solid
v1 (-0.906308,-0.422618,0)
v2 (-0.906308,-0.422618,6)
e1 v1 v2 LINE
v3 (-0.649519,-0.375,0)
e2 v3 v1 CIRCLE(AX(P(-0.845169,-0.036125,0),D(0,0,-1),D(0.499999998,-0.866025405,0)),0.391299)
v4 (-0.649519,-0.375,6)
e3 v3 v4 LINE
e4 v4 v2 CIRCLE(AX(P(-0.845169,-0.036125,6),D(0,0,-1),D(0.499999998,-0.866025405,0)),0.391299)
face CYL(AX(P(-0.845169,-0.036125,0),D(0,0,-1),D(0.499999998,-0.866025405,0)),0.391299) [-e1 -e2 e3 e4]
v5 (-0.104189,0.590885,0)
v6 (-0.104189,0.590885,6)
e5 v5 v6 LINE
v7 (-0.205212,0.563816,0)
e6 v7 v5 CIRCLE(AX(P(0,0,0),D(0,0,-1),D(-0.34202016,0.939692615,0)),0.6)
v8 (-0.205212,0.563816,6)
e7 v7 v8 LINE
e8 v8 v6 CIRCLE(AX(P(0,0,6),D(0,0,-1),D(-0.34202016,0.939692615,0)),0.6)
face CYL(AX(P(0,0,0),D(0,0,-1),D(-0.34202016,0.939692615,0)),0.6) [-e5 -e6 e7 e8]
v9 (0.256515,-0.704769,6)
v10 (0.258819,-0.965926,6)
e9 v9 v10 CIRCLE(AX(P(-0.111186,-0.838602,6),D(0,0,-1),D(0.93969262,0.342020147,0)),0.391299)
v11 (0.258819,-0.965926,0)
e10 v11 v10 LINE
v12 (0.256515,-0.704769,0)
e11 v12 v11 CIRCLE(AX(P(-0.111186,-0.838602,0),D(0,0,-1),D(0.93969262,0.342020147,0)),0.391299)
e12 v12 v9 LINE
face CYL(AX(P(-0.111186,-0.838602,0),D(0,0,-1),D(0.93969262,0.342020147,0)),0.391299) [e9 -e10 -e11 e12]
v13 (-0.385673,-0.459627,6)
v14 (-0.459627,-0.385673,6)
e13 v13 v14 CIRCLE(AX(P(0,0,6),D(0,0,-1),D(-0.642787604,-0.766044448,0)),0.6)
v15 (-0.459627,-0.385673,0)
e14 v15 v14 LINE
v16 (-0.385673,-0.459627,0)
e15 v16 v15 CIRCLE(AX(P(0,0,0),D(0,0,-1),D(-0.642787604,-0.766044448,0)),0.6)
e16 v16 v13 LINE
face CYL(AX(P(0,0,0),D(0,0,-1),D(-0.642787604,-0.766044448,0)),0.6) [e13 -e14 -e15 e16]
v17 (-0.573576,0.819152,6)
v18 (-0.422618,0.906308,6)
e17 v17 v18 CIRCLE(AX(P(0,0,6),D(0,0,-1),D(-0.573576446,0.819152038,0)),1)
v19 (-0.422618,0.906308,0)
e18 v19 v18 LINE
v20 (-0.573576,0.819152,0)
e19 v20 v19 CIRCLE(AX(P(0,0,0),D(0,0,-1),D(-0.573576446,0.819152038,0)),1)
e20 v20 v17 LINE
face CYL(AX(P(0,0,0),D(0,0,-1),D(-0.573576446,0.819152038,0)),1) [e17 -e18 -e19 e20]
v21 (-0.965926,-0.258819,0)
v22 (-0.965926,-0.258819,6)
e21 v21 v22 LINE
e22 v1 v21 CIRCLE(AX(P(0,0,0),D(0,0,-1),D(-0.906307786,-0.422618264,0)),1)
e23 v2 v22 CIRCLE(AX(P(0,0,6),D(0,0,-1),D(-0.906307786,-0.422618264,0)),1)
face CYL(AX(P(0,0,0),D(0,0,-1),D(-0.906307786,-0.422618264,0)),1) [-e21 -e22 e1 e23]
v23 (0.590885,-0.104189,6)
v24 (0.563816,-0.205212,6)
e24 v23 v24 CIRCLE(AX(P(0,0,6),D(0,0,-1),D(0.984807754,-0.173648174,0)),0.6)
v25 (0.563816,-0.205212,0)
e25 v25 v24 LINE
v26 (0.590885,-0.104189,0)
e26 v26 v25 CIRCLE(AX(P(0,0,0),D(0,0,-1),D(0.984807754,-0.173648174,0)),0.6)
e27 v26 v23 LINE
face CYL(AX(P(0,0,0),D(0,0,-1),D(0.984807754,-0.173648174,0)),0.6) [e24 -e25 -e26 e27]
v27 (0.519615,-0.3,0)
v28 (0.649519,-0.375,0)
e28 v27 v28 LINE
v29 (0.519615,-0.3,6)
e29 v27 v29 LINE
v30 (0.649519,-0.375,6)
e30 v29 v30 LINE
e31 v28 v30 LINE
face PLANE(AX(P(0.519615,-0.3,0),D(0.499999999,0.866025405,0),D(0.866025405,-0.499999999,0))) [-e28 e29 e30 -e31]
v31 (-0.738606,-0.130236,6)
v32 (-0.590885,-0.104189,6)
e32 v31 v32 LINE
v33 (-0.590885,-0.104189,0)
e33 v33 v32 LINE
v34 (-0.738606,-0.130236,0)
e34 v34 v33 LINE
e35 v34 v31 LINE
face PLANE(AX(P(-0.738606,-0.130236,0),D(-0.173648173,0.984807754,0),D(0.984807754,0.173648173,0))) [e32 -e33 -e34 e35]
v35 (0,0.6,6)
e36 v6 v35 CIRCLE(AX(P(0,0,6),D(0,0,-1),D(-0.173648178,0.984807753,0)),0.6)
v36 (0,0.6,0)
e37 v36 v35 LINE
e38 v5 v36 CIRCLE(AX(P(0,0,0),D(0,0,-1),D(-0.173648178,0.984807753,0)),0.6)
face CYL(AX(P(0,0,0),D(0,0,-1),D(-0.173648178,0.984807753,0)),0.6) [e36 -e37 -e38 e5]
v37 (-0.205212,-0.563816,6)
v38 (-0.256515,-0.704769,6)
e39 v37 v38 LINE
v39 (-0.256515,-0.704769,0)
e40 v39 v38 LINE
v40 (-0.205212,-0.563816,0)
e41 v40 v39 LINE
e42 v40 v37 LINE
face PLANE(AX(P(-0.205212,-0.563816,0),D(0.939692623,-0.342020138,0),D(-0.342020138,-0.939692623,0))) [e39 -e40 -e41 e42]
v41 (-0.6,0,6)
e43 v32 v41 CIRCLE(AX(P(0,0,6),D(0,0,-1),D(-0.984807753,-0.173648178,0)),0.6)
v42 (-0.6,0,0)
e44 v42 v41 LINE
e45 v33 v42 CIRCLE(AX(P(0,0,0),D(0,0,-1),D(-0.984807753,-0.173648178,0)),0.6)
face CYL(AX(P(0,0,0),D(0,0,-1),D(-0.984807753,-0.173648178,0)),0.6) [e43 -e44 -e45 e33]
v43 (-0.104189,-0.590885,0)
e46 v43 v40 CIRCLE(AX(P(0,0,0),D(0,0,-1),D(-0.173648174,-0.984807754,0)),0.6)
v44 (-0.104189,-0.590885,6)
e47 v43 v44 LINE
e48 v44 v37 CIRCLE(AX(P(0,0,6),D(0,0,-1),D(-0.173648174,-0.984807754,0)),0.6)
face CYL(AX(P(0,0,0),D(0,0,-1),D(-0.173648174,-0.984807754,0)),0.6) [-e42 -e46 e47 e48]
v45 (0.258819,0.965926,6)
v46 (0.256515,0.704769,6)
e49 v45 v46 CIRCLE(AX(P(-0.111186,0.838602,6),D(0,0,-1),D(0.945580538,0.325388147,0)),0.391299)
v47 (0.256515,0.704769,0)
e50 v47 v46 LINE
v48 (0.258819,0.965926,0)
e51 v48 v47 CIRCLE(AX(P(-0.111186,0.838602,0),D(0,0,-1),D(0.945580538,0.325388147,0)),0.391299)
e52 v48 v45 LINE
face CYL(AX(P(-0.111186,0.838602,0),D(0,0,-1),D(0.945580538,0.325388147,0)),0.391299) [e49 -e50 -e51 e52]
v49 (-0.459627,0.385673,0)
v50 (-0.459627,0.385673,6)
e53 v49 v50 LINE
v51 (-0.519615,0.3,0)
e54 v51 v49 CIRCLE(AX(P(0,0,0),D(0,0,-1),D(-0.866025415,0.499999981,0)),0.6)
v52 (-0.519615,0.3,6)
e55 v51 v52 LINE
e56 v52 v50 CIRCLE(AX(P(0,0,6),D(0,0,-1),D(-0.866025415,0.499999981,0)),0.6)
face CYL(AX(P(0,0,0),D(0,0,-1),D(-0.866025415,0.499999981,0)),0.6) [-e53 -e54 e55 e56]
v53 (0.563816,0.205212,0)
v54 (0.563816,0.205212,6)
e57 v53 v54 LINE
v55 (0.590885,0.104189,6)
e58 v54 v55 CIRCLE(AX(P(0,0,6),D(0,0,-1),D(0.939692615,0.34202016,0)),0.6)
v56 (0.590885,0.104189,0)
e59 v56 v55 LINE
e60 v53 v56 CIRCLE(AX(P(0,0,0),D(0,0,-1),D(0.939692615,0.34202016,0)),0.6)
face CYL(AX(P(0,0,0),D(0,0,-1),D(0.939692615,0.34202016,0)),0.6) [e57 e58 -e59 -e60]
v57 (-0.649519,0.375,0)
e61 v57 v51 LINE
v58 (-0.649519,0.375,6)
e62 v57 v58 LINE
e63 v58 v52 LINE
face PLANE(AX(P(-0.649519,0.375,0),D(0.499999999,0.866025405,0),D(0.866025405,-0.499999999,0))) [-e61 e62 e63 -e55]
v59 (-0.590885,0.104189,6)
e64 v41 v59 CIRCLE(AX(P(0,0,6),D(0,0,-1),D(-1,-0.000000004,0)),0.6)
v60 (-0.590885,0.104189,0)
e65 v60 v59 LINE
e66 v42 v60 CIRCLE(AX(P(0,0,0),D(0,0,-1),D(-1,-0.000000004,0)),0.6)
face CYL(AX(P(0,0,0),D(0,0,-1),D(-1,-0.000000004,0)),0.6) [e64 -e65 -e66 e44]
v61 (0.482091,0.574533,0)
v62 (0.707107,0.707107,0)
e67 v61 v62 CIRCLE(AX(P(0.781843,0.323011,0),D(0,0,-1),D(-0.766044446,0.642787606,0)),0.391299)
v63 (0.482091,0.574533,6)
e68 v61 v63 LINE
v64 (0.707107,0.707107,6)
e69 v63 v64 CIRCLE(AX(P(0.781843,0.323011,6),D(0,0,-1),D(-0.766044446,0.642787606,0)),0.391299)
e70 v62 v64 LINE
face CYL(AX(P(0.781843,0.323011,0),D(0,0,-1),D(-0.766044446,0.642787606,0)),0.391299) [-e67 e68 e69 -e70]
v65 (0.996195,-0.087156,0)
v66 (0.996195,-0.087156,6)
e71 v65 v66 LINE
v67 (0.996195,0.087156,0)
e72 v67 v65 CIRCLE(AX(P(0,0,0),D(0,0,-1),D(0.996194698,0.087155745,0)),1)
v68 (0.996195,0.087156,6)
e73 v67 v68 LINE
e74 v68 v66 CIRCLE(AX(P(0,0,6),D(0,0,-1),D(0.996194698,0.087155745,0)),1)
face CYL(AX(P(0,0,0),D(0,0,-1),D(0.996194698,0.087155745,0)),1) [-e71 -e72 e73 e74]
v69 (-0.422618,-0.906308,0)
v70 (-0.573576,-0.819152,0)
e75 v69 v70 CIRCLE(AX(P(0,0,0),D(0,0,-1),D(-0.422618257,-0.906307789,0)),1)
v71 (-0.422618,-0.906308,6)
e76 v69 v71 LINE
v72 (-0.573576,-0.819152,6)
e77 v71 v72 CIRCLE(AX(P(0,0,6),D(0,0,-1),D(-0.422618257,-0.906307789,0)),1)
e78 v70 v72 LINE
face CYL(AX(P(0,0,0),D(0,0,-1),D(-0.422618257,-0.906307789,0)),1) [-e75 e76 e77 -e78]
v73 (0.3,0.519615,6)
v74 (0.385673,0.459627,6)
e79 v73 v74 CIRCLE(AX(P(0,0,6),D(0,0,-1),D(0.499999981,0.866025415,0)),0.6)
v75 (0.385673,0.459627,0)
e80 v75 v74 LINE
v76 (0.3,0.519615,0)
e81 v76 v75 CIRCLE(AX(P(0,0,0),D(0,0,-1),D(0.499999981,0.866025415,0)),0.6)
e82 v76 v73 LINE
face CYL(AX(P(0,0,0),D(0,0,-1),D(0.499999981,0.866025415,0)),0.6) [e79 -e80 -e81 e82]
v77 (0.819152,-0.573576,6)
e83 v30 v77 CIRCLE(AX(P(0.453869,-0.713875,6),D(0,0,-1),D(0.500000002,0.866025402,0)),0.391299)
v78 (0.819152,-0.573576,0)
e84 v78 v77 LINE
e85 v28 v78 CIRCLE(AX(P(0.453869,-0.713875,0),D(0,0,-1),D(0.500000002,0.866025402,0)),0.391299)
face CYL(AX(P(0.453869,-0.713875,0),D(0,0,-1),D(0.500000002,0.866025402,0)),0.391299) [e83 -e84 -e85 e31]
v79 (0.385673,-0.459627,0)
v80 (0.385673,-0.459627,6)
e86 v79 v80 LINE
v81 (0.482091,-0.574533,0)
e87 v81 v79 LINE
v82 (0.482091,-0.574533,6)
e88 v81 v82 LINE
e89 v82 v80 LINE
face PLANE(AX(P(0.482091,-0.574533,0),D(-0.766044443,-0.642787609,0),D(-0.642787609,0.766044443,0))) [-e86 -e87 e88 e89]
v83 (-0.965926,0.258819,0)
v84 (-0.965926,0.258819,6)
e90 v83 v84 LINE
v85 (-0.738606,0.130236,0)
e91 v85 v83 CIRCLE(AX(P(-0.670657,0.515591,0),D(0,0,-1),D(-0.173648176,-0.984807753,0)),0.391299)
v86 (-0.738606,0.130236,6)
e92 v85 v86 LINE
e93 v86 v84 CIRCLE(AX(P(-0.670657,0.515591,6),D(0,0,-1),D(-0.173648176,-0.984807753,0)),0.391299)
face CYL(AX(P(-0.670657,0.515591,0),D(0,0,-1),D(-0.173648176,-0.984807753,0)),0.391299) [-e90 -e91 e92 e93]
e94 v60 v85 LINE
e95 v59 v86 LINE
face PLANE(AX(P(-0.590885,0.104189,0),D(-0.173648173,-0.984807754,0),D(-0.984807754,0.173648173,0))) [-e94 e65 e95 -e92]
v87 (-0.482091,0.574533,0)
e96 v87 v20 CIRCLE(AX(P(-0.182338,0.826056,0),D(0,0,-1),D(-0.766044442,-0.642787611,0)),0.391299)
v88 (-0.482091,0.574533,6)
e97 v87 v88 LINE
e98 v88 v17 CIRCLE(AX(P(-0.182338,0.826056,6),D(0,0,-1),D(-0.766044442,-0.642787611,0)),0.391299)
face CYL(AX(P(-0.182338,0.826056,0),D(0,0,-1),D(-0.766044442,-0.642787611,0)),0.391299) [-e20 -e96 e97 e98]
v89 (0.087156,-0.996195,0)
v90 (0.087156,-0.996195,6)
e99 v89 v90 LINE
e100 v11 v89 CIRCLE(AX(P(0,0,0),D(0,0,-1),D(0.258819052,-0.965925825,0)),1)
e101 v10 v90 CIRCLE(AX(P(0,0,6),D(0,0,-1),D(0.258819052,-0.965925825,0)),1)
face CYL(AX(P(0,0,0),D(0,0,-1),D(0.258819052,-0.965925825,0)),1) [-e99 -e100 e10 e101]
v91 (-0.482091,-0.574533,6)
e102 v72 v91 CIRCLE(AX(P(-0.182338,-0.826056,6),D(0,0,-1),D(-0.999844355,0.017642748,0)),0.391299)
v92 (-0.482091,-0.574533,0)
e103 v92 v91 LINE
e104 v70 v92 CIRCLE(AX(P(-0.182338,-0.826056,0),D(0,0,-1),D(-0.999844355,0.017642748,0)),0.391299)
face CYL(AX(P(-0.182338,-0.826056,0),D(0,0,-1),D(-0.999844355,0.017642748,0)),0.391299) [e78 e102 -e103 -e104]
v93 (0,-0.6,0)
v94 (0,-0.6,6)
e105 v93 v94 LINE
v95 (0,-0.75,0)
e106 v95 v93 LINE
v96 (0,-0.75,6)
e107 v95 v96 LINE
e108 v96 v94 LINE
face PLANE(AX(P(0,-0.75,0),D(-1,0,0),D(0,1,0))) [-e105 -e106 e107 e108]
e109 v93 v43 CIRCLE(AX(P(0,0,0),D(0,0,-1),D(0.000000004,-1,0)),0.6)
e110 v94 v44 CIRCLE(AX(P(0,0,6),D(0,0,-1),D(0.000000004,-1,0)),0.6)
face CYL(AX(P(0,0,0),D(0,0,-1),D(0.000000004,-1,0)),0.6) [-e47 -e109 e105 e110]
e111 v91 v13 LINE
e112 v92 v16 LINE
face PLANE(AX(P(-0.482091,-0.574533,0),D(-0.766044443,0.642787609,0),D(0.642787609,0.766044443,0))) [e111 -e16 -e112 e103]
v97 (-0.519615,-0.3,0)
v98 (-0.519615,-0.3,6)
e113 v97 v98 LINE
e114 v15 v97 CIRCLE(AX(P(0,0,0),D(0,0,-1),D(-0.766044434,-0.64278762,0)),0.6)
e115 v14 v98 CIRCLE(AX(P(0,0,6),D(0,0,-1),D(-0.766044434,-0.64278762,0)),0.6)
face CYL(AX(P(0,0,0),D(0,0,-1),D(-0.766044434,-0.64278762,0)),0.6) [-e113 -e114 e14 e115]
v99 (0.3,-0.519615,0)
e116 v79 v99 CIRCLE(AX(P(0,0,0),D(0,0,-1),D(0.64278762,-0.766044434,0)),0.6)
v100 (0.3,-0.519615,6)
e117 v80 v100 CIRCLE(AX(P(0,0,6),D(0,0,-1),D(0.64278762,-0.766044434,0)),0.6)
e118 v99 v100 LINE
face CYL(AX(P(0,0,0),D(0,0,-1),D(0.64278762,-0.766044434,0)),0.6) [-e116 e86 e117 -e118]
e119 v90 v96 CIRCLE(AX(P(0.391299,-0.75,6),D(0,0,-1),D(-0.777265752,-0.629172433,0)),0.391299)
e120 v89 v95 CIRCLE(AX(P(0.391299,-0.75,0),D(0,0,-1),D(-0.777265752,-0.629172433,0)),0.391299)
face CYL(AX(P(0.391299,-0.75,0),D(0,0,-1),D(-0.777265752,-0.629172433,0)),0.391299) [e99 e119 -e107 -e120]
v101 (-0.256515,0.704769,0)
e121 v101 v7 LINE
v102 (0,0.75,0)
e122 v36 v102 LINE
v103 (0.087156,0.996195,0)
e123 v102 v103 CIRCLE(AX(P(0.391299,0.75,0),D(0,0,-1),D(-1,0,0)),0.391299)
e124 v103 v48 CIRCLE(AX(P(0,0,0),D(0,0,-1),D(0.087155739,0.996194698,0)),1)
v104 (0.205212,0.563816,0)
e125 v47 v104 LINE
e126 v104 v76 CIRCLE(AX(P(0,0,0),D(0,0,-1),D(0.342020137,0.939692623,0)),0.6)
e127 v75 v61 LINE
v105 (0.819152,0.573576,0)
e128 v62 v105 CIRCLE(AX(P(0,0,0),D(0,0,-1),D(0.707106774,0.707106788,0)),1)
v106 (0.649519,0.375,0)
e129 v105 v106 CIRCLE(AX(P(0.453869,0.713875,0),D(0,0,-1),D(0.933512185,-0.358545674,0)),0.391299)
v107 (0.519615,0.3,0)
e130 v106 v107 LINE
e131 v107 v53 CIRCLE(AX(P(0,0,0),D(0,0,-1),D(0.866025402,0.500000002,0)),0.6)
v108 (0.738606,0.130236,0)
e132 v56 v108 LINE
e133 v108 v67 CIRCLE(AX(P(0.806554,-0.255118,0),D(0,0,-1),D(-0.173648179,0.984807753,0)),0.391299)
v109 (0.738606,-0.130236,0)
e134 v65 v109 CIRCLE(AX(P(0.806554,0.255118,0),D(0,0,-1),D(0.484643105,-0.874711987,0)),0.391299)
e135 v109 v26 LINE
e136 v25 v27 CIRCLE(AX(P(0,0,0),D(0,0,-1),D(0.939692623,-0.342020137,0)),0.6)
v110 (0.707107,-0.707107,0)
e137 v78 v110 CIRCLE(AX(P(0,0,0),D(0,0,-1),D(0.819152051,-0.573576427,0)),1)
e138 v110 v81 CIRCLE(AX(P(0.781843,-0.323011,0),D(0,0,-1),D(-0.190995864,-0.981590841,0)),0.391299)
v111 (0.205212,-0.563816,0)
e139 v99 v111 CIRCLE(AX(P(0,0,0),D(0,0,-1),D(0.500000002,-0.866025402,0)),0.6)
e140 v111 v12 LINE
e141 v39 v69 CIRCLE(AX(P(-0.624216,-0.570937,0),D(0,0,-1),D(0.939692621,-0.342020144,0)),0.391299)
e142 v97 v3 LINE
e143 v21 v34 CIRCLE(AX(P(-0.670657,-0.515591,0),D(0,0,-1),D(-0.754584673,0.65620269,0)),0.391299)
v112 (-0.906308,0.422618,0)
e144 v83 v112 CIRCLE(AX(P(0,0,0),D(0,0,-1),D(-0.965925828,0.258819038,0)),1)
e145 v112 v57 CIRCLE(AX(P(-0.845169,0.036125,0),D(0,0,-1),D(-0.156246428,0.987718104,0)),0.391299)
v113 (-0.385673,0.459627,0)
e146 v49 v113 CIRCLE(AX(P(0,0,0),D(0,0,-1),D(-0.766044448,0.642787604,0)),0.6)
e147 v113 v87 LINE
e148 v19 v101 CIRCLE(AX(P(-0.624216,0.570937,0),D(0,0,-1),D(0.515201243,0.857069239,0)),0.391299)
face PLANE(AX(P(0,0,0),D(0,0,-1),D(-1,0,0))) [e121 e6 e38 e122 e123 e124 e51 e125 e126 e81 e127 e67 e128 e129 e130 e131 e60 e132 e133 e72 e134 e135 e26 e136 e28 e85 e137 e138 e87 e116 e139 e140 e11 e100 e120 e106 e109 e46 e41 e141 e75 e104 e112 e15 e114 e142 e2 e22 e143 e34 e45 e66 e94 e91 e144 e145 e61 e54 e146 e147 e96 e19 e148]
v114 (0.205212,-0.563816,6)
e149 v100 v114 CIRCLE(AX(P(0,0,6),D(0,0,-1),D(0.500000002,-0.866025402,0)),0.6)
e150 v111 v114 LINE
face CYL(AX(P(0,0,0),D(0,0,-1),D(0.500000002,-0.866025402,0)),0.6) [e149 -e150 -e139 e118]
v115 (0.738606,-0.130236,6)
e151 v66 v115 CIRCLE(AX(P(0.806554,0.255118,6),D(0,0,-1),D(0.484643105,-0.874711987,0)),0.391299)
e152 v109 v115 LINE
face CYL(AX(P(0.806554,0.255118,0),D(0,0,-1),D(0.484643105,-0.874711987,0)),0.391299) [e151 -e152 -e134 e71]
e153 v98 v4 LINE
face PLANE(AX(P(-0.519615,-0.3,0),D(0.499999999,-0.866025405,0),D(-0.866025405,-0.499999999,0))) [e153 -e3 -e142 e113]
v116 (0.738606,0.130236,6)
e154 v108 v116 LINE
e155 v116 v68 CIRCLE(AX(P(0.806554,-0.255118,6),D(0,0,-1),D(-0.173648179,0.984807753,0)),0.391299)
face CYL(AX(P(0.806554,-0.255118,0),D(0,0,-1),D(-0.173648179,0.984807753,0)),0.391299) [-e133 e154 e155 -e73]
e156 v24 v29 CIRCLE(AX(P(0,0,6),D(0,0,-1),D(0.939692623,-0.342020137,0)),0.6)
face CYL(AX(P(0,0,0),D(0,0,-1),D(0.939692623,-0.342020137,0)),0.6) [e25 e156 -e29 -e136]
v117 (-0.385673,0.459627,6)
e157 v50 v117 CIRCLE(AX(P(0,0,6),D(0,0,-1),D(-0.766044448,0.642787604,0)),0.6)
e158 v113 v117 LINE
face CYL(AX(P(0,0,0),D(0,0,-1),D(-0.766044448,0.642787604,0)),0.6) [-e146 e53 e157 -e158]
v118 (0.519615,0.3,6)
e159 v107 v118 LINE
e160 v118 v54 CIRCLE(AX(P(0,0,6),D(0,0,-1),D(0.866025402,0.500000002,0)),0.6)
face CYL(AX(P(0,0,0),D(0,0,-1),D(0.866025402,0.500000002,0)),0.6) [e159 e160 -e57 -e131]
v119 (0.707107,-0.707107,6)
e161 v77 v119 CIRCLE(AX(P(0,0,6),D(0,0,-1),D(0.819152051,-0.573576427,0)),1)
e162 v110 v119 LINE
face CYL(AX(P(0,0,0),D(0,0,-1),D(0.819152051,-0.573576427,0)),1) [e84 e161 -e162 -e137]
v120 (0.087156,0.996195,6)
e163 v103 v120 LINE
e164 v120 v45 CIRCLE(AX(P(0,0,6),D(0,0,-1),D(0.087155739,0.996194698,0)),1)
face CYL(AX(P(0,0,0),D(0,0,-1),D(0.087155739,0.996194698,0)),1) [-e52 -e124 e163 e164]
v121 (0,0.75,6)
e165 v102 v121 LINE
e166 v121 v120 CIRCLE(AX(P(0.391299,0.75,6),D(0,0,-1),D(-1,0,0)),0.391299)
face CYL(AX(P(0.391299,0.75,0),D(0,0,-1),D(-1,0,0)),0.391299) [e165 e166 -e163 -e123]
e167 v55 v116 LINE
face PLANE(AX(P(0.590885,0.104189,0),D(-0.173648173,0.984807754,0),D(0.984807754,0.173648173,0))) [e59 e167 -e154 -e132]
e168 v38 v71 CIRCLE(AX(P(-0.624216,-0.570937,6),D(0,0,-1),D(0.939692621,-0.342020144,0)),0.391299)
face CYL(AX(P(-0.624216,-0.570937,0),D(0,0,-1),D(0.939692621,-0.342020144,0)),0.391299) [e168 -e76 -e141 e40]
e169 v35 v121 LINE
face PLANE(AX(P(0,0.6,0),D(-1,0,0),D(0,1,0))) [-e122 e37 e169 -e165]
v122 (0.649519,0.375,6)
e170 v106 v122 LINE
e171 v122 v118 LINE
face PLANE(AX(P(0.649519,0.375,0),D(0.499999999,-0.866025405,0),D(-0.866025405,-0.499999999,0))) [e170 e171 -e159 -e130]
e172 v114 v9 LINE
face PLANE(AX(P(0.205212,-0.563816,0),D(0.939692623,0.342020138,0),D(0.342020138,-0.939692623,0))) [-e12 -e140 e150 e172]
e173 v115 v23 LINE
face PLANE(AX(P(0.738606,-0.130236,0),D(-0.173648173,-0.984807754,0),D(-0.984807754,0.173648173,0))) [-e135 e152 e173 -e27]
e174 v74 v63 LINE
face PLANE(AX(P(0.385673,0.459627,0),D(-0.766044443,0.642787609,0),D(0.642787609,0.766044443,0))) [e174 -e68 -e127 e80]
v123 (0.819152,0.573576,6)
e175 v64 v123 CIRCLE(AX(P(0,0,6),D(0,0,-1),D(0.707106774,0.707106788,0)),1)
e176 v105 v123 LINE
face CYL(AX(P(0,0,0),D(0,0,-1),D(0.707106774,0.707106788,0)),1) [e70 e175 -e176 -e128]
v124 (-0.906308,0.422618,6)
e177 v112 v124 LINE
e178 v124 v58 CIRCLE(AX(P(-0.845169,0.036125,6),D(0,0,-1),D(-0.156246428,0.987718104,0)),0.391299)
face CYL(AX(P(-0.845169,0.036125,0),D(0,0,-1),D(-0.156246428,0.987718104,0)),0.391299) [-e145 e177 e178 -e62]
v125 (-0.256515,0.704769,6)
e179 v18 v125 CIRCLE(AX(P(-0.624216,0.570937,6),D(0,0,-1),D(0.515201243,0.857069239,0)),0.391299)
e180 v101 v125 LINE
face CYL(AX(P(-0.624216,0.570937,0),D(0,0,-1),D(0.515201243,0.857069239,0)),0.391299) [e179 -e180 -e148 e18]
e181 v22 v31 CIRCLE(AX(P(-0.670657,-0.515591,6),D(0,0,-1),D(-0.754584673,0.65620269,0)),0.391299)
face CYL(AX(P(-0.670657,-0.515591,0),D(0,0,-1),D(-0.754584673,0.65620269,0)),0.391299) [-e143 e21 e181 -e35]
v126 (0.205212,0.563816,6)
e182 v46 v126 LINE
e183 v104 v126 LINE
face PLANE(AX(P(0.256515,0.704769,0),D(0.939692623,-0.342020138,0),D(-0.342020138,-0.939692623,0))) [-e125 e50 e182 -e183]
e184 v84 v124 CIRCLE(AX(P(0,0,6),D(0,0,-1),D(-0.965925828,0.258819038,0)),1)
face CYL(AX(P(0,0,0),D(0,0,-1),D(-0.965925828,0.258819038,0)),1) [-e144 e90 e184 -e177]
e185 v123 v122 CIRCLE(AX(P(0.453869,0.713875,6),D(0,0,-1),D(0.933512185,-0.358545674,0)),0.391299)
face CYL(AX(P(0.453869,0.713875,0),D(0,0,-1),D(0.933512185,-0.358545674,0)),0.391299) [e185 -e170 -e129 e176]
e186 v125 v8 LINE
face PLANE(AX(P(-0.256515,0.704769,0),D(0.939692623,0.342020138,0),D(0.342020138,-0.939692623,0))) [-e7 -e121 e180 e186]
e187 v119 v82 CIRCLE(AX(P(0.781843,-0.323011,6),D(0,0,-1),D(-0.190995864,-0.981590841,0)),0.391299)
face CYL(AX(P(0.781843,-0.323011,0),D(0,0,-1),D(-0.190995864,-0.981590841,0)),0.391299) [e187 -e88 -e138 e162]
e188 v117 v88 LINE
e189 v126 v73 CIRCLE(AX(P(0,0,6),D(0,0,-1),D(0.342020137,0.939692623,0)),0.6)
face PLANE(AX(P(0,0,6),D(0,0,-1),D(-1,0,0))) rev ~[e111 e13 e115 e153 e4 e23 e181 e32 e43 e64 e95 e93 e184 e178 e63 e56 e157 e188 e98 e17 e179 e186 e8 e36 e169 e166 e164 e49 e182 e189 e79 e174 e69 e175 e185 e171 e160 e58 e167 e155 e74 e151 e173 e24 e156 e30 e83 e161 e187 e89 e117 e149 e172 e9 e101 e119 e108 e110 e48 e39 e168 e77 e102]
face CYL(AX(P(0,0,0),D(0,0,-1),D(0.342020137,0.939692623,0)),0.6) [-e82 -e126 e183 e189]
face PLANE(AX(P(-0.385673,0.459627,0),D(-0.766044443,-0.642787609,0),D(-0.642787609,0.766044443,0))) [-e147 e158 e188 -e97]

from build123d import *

# Parameters (mm, degrees)
BOSS_EXTRUDE1_DEPTH = 6


with BuildPart() as part:
    # Sketch1 → Boss-Extrude1 (new body)
    with BuildSketch(Plane.XY):
        with BuildLine():
            Line((0.590884652, 0.104188907), (0.738605815, 0.130236133))
            ThreePointArc((0.738605815, 0.130236133), (0.871100483, 0.13082056), (0.996194698, 0.087155743))
            ThreePointArc((0.996194698, 0.087155743), (1, 0), (0.996194698, -0.087155743))
            ThreePointArc((0.996194698, -0.087155743), (0.871100483, -0.13082056), (0.738605815, -0.130236133))
            Line((0.738605815, -0.130236133), (0.590884652, -0.104188907))
            ThreePointArc((0.590884652, -0.104188907), (0.579555496, -0.155291427), (0.563815572, -0.205212086))
            ThreePointArc((0.563815572, -0.205212086), (0.543784672, -0.253570957), (0.519615242, -0.3))
            Line((0.519615242, -0.3), (0.649519053, -0.375))
            ThreePointArc((0.649519053, -0.375), (0.75139152, -0.459718235), (0.819152044, -0.573576436))
            ThreePointArc((0.819152044, -0.573576436), (0.766044443, -0.64278761), (0.707106781, -0.707106781))
            ThreePointArc((0.707106781, -0.707106781), (0.58321185, -0.660146961), (0.482090707, -0.574533332))
            Line((0.482090707, -0.574533332), (0.385672566, -0.459626666))
            ThreePointArc((0.385672566, -0.459626666), (0.344145862, -0.491491227), (0.3, -0.519615242))
            ThreePointArc((0.3, -0.519615242), (0.253570957, -0.543784672), (0.205212086, -0.563815572))
            Line((0.205212086, -0.563815572), (0.256515107, -0.704769466))
            ThreePointArc((0.256515107, -0.704769466), (0.280098113, -0.835149758), (0.258819045, -0.965925826))
            ThreePointArc((0.258819045, -0.965925826), (0.173648178, -0.984807753), (0.087155743, -0.996194698))
            ThreePointArc((0.087155743, -0.996194698), (0.02243191, -0.880583262), (0, -0.75))
            Line((0, -0.75), (0, -0.6))
            ThreePointArc((0, -0.6), (-0.052293446, -0.597716819), (-0.104188907, -0.590884652))
            ThreePointArc((-0.104188907, -0.590884652), (-0.155291427, -0.579555496), (-0.205212086, -0.563815572))
            Line((-0.205212086, -0.563815572), (-0.256515107, -0.704769466))
            ThreePointArc((-0.256515107, -0.704769466), (-0.322256313, -0.819805428), (-0.422618262, -0.906307787))
            ThreePointArc((-0.422618262, -0.906307787), (-0.5, -0.866025404), (-0.573576436, -0.819152044))
            ThreePointArc((-0.573576436, -0.819152044), (-0.54884417, -0.688984868), (-0.482090707, -0.574533332))
            Line((-0.482090707, -0.574533332), (-0.385672566, -0.459626666))
            ThreePointArc((-0.385672566, -0.459626666), (-0.424264069, -0.424264069), (-0.459626666, -0.385672566))
            ThreePointArc((-0.459626666, -0.385672566), (-0.491491227, -0.344145862), (-0.519615242, -0.3))
            Line((-0.519615242, -0.3), (-0.649519053, -0.375))
            ThreePointArc((-0.649519053, -0.375), (-0.77382343, -0.420865027), (-0.906307787, -0.422618262))
            ThreePointArc((-0.906307787, -0.422618262), (-0.939692621, -0.342020143), (-0.965925826, -0.258819045))
            ThreePointArc((-0.965925826, -0.258819045), (-0.863309963, -0.175002797), (-0.738605815, -0.130236133))
            Line((-0.738605815, -0.130236133), (-0.590884652, -0.104188907))
            ThreePointArc((-0.590884652, -0.104188907), (-0.597716819, -0.052293446), (-0.6, 0))
            ThreePointArc((-0.6, 0), (-0.597716819, 0.052293446), (-0.590884652, 0.104188907))
            Line((-0.590884652, 0.104188907), (-0.738605815, 0.130236133))
            ThreePointArc((-0.738605815, 0.130236133), (-0.863309963, 0.175002797), (-0.965925826, 0.258819045))
            ThreePointArc((-0.965925826, 0.258819045), (-0.939692621, 0.342020143), (-0.906307787, 0.422618262))
            ThreePointArc((-0.906307787, 0.422618262), (-0.77382343, 0.420865027), (-0.649519053, 0.375))
            Line((-0.649519053, 0.375), (-0.519615242, 0.3))
            ThreePointArc((-0.519615242, 0.3), (-0.491491227, 0.344145862), (-0.459626666, 0.385672566))
            ThreePointArc((-0.459626666, 0.385672566), (-0.424264069, 0.424264069), (-0.385672566, 0.459626666))
            Line((-0.385672566, 0.459626666), (-0.482090707, 0.574533332))
            ThreePointArc((-0.482090707, 0.574533332), (-0.54884417, 0.688984868), (-0.573576436, 0.819152044))
            ThreePointArc((-0.573576436, 0.819152044), (-0.5, 0.866025404), (-0.422618262, 0.906307787))
            ThreePointArc((-0.422618262, 0.906307787), (-0.322256313, 0.819805428), (-0.256515107, 0.704769466))
            Line((-0.256515107, 0.704769466), (-0.205212086, 0.563815572))
            ThreePointArc((-0.205212086, 0.563815572), (-0.155291427, 0.579555496), (-0.104188907, 0.590884652))
            ThreePointArc((-0.104188907, 0.590884652), (-0.052293446, 0.597716819), (0, 0.6))
            Line((0, 0.6), (0, 0.75))
            ThreePointArc((0, 0.75), (0.02243191, 0.880583262), (0.087155743, 0.996194698))
            ThreePointArc((0.087155743, 0.996194698), (0.173648178, 0.984807753), (0.258819045, 0.965925826))
            ThreePointArc((0.258819045, 0.965925826), (0.280098113, 0.835149758), (0.256515107, 0.704769466))
            Line((0.256515107, 0.704769466), (0.205212086, 0.563815572))
            ThreePointArc((0.205212086, 0.563815572), (0.253570957, 0.543784672), (0.3, 0.519615242))
            ThreePointArc((0.3, 0.519615242), (0.344145862, 0.491491227), (0.385672566, 0.459626666))
            Line((0.385672566, 0.459626666), (0.482090707, 0.574533332))
            ThreePointArc((0.482090707, 0.574533332), (0.58321185, 0.660146961), (0.707106781, 0.707106781))
            ThreePointArc((0.707106781, 0.707106781), (0.766044443, 0.64278761), (0.819152044, 0.573576436))
            ThreePointArc((0.819152044, 0.573576436), (0.75139152, 0.459718235), (0.649519053, 0.375))
            Line((0.649519053, 0.375), (0.519615242, 0.3))
            ThreePointArc((0.519615242, 0.3), (0.543784672, 0.253570957), (0.563815572, 0.205212086))
            ThreePointArc((0.563815572, 0.205212086), (0.579555496, 0.155291427), (0.590884652, 0.104188907))
        make_face()
    extrude(amount=BOSS_EXTRUDE1_DEPTH)


solid = part.part
